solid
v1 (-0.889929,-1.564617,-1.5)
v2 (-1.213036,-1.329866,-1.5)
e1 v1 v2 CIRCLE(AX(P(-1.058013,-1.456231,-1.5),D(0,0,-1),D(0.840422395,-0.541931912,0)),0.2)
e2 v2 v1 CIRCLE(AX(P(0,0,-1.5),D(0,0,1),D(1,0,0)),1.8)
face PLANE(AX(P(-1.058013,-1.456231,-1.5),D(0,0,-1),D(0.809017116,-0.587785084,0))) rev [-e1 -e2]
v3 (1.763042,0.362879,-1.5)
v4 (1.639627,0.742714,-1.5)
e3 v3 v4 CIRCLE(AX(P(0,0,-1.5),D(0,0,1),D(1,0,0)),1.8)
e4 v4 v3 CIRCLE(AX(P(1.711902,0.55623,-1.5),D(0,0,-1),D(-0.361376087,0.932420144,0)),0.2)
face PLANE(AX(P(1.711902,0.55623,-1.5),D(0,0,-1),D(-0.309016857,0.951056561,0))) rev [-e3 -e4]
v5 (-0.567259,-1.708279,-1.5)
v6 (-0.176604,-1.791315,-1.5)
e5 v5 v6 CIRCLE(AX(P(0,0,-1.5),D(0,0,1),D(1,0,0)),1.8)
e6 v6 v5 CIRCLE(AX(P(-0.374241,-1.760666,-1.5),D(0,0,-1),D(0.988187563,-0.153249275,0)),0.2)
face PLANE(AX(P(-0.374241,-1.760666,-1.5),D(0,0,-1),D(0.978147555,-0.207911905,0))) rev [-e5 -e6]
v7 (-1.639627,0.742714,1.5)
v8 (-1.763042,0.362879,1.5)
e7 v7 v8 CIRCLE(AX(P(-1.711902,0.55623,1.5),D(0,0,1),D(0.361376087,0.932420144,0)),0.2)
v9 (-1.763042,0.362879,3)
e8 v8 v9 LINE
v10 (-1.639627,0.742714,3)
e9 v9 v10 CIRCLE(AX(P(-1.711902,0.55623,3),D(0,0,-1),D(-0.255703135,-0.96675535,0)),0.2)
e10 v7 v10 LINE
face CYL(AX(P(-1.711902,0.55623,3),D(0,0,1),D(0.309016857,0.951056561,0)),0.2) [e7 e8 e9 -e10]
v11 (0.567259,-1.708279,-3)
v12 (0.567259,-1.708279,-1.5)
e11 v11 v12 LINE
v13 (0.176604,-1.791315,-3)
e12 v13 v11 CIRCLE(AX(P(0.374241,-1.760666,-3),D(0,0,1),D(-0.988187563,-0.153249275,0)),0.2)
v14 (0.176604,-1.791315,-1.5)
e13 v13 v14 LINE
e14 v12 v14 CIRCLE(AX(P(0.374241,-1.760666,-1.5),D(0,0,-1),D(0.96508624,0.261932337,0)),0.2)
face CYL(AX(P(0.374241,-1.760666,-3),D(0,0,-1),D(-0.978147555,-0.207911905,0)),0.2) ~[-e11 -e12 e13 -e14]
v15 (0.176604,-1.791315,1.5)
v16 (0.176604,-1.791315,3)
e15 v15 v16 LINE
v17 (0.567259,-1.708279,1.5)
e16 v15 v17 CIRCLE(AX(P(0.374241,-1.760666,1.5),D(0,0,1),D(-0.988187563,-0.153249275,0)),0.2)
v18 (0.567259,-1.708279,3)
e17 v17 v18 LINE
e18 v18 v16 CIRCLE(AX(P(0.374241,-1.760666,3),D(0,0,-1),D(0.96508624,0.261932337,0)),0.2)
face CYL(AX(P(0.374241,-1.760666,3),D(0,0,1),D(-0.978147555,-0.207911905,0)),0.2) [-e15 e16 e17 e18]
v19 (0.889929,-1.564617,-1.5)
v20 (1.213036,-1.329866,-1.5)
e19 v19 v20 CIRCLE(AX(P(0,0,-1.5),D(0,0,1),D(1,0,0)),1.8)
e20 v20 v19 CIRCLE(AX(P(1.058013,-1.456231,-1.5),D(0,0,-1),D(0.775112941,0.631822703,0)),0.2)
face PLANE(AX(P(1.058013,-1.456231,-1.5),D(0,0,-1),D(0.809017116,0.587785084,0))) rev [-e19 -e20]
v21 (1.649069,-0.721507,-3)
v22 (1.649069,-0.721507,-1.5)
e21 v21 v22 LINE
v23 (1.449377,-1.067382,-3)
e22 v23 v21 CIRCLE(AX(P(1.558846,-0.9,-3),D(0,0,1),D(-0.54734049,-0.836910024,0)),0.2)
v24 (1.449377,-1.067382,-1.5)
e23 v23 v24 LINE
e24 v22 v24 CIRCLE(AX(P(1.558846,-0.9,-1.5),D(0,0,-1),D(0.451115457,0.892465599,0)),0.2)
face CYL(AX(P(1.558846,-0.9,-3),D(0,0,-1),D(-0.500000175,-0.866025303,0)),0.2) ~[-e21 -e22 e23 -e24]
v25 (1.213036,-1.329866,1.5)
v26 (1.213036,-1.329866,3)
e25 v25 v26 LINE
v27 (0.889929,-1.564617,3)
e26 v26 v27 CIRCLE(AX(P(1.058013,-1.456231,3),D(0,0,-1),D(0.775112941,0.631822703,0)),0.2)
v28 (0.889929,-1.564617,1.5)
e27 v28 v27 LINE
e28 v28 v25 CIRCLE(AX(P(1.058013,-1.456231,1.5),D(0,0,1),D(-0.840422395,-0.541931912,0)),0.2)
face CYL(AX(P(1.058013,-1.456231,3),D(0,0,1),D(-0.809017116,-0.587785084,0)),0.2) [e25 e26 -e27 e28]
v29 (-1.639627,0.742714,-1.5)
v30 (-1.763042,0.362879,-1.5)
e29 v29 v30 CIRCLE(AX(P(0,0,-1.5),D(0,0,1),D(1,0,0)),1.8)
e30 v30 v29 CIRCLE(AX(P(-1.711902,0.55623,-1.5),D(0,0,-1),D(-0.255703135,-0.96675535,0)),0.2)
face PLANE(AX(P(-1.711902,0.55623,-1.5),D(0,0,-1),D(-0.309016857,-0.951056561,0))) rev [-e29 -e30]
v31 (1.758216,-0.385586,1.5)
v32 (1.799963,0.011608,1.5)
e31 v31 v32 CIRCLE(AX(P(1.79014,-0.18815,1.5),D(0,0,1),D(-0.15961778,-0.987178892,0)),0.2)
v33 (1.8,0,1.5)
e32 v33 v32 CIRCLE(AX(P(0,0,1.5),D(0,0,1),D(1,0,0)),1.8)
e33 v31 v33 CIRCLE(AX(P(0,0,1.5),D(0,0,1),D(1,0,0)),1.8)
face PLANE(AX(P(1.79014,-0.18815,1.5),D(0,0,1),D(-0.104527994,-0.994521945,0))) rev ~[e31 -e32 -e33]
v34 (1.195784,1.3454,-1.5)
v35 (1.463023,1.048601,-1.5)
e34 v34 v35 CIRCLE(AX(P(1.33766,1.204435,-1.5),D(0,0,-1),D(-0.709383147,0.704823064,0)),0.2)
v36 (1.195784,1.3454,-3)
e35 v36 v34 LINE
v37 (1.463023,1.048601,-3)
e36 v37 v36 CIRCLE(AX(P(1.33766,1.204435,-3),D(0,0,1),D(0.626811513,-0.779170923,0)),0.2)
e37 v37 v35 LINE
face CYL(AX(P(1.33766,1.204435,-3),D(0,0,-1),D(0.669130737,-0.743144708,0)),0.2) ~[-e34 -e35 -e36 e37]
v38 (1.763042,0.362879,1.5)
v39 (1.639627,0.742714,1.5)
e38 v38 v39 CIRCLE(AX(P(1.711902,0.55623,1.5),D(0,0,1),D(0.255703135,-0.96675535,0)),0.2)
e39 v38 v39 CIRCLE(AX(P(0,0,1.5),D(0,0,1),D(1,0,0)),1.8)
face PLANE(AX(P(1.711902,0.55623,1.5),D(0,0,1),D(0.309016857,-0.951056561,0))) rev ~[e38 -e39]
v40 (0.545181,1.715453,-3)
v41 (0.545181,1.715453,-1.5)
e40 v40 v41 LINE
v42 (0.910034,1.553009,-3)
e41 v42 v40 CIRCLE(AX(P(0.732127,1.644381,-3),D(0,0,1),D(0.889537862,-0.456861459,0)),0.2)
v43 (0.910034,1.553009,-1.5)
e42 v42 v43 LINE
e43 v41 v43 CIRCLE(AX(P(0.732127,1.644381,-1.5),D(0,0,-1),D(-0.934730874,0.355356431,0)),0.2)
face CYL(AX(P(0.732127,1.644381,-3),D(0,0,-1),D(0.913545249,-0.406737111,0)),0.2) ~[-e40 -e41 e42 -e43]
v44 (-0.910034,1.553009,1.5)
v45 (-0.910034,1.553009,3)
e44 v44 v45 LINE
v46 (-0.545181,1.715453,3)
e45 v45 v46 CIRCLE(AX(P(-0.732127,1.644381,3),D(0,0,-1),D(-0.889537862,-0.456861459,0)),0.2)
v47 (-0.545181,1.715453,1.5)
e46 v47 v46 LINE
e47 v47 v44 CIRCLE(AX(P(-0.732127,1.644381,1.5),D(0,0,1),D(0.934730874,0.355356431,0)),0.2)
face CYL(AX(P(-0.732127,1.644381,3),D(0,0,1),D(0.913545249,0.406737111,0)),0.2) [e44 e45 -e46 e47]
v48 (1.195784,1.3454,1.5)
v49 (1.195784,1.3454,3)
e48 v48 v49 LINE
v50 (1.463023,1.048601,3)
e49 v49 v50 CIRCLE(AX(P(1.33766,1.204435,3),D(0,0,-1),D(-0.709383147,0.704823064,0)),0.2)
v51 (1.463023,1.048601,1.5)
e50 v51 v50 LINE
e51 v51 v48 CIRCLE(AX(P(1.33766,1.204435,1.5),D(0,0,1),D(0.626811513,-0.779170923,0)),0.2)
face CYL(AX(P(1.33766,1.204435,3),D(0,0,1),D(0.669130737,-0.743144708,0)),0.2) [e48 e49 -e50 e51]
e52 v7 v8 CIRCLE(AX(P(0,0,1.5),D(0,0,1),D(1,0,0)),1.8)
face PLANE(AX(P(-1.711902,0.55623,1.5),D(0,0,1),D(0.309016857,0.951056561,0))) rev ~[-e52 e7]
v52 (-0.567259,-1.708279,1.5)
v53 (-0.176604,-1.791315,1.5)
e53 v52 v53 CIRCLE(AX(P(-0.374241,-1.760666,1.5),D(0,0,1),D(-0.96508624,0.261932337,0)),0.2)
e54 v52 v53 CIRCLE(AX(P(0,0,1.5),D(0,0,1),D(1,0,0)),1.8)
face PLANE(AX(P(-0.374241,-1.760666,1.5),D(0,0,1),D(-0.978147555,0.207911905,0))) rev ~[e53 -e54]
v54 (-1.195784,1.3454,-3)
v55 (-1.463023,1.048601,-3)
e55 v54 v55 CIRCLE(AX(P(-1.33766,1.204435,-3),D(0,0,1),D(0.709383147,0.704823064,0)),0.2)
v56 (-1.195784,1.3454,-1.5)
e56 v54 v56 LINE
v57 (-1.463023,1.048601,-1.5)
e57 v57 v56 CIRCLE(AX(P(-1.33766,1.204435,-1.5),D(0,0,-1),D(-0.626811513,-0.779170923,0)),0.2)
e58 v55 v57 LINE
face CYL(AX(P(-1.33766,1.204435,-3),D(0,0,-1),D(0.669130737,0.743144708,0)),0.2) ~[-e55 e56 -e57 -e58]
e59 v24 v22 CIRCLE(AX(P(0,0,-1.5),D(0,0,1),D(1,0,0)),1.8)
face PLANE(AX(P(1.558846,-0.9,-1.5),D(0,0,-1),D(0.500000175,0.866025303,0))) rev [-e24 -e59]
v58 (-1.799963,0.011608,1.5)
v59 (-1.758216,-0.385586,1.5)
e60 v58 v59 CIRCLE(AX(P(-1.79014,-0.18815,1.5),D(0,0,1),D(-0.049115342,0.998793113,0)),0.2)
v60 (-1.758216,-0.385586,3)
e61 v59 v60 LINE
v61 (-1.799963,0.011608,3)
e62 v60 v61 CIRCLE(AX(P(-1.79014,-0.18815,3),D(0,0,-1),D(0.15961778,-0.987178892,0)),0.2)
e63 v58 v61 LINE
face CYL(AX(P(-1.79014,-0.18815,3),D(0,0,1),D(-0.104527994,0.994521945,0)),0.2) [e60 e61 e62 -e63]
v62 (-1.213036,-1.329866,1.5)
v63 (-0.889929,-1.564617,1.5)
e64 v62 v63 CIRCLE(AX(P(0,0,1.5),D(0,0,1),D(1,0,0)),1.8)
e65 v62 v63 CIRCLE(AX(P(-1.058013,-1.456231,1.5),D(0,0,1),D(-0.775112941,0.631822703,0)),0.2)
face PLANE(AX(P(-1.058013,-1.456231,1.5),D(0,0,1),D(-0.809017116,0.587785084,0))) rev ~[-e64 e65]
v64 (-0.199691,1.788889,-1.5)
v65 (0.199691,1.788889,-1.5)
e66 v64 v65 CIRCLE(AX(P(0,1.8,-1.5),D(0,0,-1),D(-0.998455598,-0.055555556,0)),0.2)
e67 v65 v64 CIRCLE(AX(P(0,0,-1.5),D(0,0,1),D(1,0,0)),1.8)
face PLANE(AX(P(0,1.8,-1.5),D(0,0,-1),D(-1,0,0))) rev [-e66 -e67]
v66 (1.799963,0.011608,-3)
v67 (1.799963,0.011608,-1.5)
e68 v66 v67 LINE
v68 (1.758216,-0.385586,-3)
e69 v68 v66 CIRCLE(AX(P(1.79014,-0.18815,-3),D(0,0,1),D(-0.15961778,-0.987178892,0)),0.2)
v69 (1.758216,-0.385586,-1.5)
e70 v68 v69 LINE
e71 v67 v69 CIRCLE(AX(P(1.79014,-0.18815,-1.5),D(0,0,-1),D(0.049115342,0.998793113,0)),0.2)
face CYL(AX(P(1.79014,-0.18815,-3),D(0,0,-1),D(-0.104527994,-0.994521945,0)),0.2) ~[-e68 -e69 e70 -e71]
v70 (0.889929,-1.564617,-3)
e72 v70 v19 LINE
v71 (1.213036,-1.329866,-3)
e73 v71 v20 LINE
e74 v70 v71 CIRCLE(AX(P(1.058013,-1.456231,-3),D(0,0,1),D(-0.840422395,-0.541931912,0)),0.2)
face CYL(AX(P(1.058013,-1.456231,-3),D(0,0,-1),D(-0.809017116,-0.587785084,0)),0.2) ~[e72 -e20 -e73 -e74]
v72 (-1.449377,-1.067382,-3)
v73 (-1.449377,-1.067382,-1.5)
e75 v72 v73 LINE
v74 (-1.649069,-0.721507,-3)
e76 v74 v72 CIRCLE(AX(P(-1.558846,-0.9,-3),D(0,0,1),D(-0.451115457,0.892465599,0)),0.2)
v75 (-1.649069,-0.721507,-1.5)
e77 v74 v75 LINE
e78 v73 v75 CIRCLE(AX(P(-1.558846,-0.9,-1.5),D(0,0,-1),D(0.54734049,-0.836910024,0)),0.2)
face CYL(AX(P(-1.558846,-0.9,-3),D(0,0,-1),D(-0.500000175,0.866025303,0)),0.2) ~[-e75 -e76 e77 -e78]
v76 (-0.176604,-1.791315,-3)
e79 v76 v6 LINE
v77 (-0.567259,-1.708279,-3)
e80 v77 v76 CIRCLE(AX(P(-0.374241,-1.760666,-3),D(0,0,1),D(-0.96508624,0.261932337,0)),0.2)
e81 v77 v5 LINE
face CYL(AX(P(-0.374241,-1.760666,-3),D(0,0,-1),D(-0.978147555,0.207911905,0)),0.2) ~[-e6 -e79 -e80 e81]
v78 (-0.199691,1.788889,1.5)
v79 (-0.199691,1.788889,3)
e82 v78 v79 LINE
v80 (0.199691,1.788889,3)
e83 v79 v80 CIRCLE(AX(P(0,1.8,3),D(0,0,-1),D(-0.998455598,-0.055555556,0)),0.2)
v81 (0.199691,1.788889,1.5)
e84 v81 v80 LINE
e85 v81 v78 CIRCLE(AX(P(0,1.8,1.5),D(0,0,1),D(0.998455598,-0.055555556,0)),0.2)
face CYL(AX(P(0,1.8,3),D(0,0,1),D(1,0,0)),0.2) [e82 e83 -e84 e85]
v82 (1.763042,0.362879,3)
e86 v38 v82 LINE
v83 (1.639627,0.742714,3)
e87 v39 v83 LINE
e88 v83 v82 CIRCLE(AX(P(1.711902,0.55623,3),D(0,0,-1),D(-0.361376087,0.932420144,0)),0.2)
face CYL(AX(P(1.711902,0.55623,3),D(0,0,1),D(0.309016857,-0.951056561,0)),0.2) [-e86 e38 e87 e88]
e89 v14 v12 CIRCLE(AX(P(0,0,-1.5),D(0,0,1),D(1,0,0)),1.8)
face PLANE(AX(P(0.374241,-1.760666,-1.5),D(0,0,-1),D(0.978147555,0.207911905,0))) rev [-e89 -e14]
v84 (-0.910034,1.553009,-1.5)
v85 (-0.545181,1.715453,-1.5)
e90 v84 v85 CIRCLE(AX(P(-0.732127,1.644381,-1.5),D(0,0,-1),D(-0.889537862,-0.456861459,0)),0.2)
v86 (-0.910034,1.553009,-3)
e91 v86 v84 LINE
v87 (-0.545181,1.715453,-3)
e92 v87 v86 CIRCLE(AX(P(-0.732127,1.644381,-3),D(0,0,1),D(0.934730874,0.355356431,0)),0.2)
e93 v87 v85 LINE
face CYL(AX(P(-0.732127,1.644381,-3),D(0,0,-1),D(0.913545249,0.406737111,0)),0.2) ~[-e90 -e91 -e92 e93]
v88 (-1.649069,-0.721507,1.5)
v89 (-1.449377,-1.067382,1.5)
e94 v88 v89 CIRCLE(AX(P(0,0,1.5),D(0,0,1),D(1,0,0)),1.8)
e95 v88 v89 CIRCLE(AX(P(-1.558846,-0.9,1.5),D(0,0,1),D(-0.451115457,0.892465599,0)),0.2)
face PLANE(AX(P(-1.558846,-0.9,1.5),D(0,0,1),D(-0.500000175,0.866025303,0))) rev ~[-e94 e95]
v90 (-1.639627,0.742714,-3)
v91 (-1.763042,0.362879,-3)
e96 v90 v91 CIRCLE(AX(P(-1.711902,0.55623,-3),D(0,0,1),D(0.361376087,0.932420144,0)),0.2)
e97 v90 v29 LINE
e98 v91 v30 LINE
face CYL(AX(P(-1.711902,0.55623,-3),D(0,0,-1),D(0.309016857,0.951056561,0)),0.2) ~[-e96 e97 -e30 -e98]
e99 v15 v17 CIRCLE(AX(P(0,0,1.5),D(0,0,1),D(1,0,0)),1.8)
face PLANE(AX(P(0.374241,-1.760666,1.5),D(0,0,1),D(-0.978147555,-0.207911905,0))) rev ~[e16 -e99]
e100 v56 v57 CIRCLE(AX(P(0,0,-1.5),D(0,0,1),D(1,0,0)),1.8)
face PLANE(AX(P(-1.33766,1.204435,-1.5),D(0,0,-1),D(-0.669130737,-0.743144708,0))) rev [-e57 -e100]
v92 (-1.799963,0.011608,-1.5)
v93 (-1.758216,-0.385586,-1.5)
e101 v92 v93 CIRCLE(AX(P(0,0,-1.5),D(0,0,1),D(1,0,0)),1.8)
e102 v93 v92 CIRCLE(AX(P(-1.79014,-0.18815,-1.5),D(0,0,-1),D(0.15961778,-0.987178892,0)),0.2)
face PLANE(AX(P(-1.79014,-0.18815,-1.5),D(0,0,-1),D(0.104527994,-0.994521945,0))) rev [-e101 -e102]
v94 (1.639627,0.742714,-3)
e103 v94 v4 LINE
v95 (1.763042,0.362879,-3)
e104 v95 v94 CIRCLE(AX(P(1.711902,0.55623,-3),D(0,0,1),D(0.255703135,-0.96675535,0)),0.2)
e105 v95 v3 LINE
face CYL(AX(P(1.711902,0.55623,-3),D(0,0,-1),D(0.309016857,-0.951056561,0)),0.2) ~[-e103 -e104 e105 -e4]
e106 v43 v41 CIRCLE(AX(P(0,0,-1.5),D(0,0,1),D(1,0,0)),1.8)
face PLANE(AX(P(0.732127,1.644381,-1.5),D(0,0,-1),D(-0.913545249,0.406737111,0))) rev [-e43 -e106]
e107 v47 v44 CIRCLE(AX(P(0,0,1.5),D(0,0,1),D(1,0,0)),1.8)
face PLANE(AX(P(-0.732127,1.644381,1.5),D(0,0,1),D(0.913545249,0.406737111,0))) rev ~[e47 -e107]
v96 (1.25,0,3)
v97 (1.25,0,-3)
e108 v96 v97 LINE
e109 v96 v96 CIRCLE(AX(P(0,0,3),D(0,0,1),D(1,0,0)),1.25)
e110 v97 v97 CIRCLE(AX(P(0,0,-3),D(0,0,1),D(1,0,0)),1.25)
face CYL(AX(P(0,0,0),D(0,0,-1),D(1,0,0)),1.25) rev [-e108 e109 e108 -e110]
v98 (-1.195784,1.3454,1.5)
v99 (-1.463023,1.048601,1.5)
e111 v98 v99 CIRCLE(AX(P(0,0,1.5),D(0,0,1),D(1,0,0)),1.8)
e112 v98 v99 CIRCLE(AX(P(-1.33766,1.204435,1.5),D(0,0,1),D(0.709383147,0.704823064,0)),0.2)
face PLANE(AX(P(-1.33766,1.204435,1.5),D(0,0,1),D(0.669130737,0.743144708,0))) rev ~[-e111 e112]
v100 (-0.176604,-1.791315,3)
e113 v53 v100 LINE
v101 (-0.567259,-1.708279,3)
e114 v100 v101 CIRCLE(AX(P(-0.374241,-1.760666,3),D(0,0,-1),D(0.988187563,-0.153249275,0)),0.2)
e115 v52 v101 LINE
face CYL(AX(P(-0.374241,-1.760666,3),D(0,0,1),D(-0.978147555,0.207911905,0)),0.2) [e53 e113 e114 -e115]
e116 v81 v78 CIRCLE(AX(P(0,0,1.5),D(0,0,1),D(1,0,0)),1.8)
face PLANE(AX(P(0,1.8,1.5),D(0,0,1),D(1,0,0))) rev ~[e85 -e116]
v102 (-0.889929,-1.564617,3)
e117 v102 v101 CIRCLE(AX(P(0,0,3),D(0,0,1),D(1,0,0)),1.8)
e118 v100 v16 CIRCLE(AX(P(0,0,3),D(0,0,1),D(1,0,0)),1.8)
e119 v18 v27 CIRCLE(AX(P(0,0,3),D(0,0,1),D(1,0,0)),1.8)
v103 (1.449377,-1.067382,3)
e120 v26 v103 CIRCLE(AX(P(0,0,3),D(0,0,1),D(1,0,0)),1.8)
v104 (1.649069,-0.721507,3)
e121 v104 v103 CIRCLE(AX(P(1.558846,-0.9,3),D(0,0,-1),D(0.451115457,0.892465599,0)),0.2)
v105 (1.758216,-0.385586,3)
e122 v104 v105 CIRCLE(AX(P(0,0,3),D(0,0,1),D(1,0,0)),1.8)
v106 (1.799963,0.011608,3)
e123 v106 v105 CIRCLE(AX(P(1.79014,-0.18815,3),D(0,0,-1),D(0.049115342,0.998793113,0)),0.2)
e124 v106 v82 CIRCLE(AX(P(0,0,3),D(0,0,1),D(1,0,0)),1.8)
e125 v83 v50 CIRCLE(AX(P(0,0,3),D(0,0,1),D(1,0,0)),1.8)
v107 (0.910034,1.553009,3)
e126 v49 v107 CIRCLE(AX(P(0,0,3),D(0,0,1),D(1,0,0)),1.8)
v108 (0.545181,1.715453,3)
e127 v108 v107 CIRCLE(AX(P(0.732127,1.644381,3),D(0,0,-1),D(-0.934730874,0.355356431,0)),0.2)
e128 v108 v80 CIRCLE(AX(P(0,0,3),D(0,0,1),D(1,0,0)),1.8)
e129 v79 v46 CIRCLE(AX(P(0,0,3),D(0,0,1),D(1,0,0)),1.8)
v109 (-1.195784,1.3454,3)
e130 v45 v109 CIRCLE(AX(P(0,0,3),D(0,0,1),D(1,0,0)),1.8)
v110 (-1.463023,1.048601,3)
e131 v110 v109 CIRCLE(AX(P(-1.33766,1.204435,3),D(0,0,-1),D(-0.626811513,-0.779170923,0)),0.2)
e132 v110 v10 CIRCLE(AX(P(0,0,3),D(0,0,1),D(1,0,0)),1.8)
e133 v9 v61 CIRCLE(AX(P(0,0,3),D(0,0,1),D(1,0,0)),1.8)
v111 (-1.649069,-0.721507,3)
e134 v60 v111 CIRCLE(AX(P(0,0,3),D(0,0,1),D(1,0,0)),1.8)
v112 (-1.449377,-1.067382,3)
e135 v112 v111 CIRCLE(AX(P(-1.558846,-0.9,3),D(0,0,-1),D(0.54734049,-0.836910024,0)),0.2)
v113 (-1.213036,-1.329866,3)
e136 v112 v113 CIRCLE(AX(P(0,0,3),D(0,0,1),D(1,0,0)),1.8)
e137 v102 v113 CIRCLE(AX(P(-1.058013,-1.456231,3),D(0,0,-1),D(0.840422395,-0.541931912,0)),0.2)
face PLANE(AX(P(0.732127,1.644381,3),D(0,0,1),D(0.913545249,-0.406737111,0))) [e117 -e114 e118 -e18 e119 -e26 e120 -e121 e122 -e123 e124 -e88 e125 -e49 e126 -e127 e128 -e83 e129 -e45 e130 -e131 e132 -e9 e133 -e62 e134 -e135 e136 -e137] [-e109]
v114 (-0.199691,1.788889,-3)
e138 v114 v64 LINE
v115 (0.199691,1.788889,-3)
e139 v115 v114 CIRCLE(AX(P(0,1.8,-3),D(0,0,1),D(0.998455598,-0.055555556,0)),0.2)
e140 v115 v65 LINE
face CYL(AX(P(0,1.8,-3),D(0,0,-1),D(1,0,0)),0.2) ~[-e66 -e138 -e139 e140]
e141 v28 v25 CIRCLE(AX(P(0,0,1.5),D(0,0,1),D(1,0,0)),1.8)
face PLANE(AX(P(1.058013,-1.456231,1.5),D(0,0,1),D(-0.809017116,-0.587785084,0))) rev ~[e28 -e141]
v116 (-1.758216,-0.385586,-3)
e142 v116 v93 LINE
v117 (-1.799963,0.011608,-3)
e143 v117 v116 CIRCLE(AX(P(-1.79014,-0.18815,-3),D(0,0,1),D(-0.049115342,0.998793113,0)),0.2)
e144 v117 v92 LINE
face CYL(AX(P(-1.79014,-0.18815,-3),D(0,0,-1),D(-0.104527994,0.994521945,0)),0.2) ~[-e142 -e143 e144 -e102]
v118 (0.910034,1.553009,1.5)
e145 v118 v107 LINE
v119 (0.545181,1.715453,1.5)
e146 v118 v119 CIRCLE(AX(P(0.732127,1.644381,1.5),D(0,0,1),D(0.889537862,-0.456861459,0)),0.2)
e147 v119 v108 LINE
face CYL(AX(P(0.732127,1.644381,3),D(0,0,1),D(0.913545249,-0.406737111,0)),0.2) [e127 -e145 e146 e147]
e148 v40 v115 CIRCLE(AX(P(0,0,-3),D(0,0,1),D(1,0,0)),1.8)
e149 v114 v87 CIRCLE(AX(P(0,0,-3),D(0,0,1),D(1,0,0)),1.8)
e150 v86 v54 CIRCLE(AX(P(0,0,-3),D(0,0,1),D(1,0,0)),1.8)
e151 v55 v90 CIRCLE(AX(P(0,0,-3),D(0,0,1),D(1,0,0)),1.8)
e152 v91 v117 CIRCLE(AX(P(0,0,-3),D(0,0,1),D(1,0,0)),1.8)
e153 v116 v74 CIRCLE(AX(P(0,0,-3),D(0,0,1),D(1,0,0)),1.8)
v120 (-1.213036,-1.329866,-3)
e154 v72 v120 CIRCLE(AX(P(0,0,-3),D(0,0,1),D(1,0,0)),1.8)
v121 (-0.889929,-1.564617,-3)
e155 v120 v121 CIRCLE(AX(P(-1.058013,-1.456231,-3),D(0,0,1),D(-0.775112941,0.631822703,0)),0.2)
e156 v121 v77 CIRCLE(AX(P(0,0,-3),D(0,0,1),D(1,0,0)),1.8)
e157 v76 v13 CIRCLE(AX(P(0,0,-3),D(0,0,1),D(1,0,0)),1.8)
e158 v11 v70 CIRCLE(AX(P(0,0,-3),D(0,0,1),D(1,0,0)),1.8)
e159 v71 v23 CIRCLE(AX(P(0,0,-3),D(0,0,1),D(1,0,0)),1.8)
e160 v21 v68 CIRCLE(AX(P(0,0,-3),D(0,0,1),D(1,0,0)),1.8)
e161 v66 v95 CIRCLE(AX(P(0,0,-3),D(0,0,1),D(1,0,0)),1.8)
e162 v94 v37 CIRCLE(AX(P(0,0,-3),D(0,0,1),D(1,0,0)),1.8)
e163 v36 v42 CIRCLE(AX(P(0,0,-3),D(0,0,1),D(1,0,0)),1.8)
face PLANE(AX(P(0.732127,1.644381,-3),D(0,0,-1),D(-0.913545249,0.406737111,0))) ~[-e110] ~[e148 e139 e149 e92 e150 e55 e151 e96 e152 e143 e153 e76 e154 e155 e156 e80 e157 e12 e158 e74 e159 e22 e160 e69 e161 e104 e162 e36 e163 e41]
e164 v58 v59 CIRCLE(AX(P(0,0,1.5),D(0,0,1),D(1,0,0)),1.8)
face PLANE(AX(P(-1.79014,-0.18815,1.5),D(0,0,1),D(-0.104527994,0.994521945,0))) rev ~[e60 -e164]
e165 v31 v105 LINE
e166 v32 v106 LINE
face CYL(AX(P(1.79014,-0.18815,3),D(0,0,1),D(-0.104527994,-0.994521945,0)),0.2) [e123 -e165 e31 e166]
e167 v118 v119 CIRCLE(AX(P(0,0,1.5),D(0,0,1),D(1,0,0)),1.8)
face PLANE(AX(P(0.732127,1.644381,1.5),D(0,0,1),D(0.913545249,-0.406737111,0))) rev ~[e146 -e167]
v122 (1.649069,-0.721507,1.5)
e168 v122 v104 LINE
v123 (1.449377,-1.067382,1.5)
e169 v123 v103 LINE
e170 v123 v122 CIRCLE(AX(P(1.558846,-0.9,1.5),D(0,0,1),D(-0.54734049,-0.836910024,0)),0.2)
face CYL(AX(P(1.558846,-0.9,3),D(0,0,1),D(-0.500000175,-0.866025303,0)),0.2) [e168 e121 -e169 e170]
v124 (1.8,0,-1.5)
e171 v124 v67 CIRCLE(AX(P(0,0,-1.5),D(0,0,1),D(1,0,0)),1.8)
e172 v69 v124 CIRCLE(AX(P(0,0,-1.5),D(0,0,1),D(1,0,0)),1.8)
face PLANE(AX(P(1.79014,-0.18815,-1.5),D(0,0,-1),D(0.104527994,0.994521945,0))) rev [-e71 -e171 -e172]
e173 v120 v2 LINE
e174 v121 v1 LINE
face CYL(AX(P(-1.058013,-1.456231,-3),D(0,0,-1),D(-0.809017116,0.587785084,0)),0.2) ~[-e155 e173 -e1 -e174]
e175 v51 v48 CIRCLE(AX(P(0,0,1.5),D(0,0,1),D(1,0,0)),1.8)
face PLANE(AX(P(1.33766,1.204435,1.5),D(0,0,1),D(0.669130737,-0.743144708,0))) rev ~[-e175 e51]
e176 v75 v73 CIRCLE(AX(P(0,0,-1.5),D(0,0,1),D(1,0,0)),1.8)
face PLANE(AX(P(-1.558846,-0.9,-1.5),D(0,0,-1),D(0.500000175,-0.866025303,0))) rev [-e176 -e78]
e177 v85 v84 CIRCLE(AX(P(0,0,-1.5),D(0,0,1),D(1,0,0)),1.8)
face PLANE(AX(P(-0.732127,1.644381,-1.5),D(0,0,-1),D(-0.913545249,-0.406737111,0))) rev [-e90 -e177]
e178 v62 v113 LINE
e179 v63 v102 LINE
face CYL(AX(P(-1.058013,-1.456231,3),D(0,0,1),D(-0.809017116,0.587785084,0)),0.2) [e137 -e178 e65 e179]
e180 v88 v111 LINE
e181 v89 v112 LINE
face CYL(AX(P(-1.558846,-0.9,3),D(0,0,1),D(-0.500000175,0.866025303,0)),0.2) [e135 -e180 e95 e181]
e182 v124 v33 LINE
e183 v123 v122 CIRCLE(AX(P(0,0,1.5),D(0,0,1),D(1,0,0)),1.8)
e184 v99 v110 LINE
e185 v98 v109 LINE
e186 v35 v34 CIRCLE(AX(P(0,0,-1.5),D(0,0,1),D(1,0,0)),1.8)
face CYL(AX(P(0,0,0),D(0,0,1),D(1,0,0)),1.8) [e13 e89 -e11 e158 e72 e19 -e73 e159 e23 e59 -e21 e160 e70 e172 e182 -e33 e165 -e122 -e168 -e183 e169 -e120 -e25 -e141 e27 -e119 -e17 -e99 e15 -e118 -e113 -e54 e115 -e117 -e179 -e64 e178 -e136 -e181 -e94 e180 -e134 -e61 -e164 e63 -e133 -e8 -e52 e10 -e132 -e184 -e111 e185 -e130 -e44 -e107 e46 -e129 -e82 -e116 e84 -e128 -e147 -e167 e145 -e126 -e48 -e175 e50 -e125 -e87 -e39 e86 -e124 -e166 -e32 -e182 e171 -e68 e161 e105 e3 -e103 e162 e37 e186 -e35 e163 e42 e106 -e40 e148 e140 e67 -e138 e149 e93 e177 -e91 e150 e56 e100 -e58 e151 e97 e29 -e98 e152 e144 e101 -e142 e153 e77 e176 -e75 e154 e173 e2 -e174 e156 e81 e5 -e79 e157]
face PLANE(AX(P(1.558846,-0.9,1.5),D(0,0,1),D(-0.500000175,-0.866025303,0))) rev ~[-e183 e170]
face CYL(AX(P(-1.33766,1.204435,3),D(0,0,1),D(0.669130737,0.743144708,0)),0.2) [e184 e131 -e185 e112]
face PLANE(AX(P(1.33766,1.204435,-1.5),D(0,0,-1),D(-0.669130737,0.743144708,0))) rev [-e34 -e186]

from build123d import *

# Parameters (mm, degrees)
SKETCH_R                     = 1.8
SKETCH_R_2                   = 1.25
PAD_DEPTH                    = 3
PAD_DEPTH_BACK               = 3
SKETCH001_R                  = 0.2
PAD001_DEPTH                 = 1.5
SKETCH001_POLARPATTERN_2_R   = 0.2
PAD001_POLARPATTERN_2_DEPTH  = 1.5
SKETCH001_POLARPATTERN_3_R   = 0.2
PAD001_POLARPATTERN_3_DEPTH  = 1.5
SKETCH001_POLARPATTERN_4_R   = 0.2
PAD001_POLARPATTERN_4_DEPTH  = 1.5
SKETCH001_POLARPATTERN_5_R   = 0.2
PAD001_POLARPATTERN_5_DEPTH  = 1.5
SKETCH001_POLARPATTERN_6_R   = 0.2
PAD001_POLARPATTERN_6_DEPTH  = 1.5
SKETCH001_POLARPATTERN_7_R   = 0.2
PAD001_POLARPATTERN_7_DEPTH  = 1.5
SKETCH001_POLARPATTERN_8_R   = 0.2
PAD001_POLARPATTERN_8_DEPTH  = 1.5
SKETCH001_POLARPATTERN_9_R   = 0.2
PAD001_POLARPATTERN_9_DEPTH  = 1.5
SKETCH001_POLARPATTERN_10_R  = 0.2
PAD001_POLARPATTERN_10_DEPTH = 1.5
SKETCH001_POLARPATTERN_11_R  = 0.2
PAD001_POLARPATTERN_11_DEPTH = 1.5
SKETCH001_POLARPATTERN_12_R  = 0.2
PAD001_POLARPATTERN_12_DEPTH = 1.5
SKETCH001_POLARPATTERN_13_R  = 0.2
PAD001_POLARPATTERN_13_DEPTH = 1.5
SKETCH001_POLARPATTERN_14_R  = 0.2
PAD001_POLARPATTERN_14_DEPTH = 1.5
SKETCH001_POLARPATTERN_15_R  = 0.2
PAD001_POLARPATTERN_15_DEPTH = 1.5


with BuildPart() as part:
    # Sketch → Pad (new body, two sides)
    with BuildSketch(Plane.XY) as pad_sk:
        Circle(SKETCH_R)
        Circle(SKETCH_R_2, mode=Mode.SUBTRACT)
    extrude(amount=PAD_DEPTH)
    extrude(pad_sk.sketch, amount=-PAD_DEPTH_BACK)

    # Sketch001 (on Face4 of Pad) → Pad001 (join)
    with BuildSketch(Plane.XY.offset(3)):
        with Locations((0, 1.8)):
            Circle(SKETCH001_R)
    pad001 = extrude(amount=-PAD001_DEPTH)

    # Sketch001 PolarPattern 2 → Pad001 PolarPattern 2 (add)
    with BuildSketch(Plane(origin=(0, 0, 3), x_dir=(0.913545, 0.406737, 0), z_dir=(0, 0, 1))):
        with Locations((0, 1.8)):
            Circle(SKETCH001_POLARPATTERN_2_R)
    pad001_polarpattern_2 = extrude(amount=-PAD001_POLARPATTERN_2_DEPTH)

    # Sketch001 PolarPattern 3 → Pad001 PolarPattern 3 (add)
    with BuildSketch(Plane(origin=(0, 0, 3), x_dir=(0.669131, 0.743145, 0), z_dir=(0, 0, 1))):
        with Locations((0, 1.8)):
            Circle(SKETCH001_POLARPATTERN_3_R)
    pad001_polarpattern_3 = extrude(amount=-PAD001_POLARPATTERN_3_DEPTH)

    # Sketch001 PolarPattern 4 → Pad001 PolarPattern 4 (add)
    with BuildSketch(Plane(origin=(0, 0, 3), x_dir=(0.309017, 0.951057, 0), z_dir=(0, 0, 1))):
        with Locations((0, 1.8)):
            Circle(SKETCH001_POLARPATTERN_4_R)
    pad001_polarpattern_4 = extrude(amount=-PAD001_POLARPATTERN_4_DEPTH)

    # Sketch001 PolarPattern 5 → Pad001 PolarPattern 5 (add)
    with BuildSketch(Plane(origin=(0, 0, 3), x_dir=(-0.104528, 0.994522, 0), z_dir=(0, 0, 1))):
        with Locations((0, 1.8)):
            Circle(SKETCH001_POLARPATTERN_5_R)
    pad001_polarpattern_5 = extrude(amount=-PAD001_POLARPATTERN_5_DEPTH)

    # Sketch001 PolarPattern 6 → Pad001 PolarPattern 6 (add)
    with BuildSketch(Plane(origin=(0, 0, 3), x_dir=(-0.5, 0.866025, 0), z_dir=(0, 0, 1))):
        with Locations((0, 1.8)):
            Circle(SKETCH001_POLARPATTERN_6_R)
    pad001_polarpattern_6 = extrude(amount=-PAD001_POLARPATTERN_6_DEPTH)

    # Sketch001 PolarPattern 7 → Pad001 PolarPattern 7 (add)
    with BuildSketch(Plane(origin=(0, 0, 3), x_dir=(-0.809017, 0.587785, 0), z_dir=(0, 0, 1))):
        with Locations((0, 1.8)):
            Circle(SKETCH001_POLARPATTERN_7_R)
    pad001_polarpattern_7 = extrude(amount=-PAD001_POLARPATTERN_7_DEPTH)

    # Sketch001 PolarPattern 8 → Pad001 PolarPattern 8 (add)
    with BuildSketch(Plane(origin=(0, 0, 3), x_dir=(-0.978148, 0.207912, 0), z_dir=(0, 0, 1))):
        with Locations((0, 1.8)):
            Circle(SKETCH001_POLARPATTERN_8_R)
    pad001_polarpattern_8 = extrude(amount=-PAD001_POLARPATTERN_8_DEPTH)

    # Sketch001 PolarPattern 9 → Pad001 PolarPattern 9 (add)
    with BuildSketch(Plane(origin=(0, 0, 3), x_dir=(-0.978148, -0.207912, 0), z_dir=(0, 0, 1))):
        with Locations((0, 1.8)):
            Circle(SKETCH001_POLARPATTERN_9_R)
    pad001_polarpattern_9 = extrude(amount=-PAD001_POLARPATTERN_9_DEPTH)

    # Sketch001 PolarPattern 10 → Pad001 PolarPattern 10 (add)
    with BuildSketch(Plane(origin=(0, 0, 3), x_dir=(-0.809017, -0.587785, 0), z_dir=(0, 0, 1))):
        with Locations((0, 1.8)):
            Circle(SKETCH001_POLARPATTERN_10_R)
    pad001_polarpattern_10 = extrude(amount=-PAD001_POLARPATTERN_10_DEPTH)

    # Sketch001 PolarPattern 11 → Pad001 PolarPattern 11 (add)
    with BuildSketch(Plane(origin=(0, 0, 3), x_dir=(-0.5, -0.866025, 0), z_dir=(0, 0, 1))):
        with Locations((0, 1.8)):
            Circle(SKETCH001_POLARPATTERN_11_R)
    pad001_polarpattern_11 = extrude(amount=-PAD001_POLARPATTERN_11_DEPTH)

    # Sketch001 PolarPattern 12 → Pad001 PolarPattern 12 (add)
    with BuildSketch(Plane(origin=(0, 0, 3), x_dir=(-0.104528, -0.994522, 0), z_dir=(0, 0, 1))):
        with Locations((0, 1.8)):
            Circle(SKETCH001_POLARPATTERN_12_R)
    pad001_polarpattern_12 = extrude(amount=-PAD001_POLARPATTERN_12_DEPTH)

    # Sketch001 PolarPattern 13 → Pad001 PolarPattern 13 (add)
    with BuildSketch(Plane(origin=(0, 0, 3), x_dir=(0.309017, -0.951057, 0), z_dir=(0, 0, 1))):
        with Locations((0, 1.8)):
            Circle(SKETCH001_POLARPATTERN_13_R)
    pad001_polarpattern_13 = extrude(amount=-PAD001_POLARPATTERN_13_DEPTH)

    # Sketch001 PolarPattern 14 → Pad001 PolarPattern 14 (add)
    with BuildSketch(Plane(origin=(0, 0, 3), x_dir=(0.669131, -0.743145, 0), z_dir=(0, 0, 1))):
        with Locations((0, 1.8)):
            Circle(SKETCH001_POLARPATTERN_14_R)
    pad001_polarpattern_14 = extrude(amount=-PAD001_POLARPATTERN_14_DEPTH)

    # Sketch001 PolarPattern 15 → Pad001 PolarPattern 15 (add)
    with BuildSketch(Plane(origin=(0, 0, 3), x_dir=(0.913545, -0.406737, 0), z_dir=(0, 0, 1))):
        with Locations((0, 1.8)):
            Circle(SKETCH001_POLARPATTERN_15_R)
    pad001_polarpattern_15 = extrude(amount=-PAD001_POLARPATTERN_15_DEPTH)

    # Mirrored: Pad001, Pad001 PolarPattern 2, Pad001 PolarPattern 3, Pad001 PolarPattern 4, Pad001 PolarPattern 5, Pad001 PolarPattern 6, Pad001 PolarPattern 7, Pad001 PolarPattern 8, Pad001 PolarPattern 9, Pad001 PolarPattern 10, Pad001 PolarPattern 11, Pad001 PolarPattern 12, Pad001 PolarPattern 13, Pad001 PolarPattern 14, Pad001 PolarPattern 15 across XY
    add(pad001.mirror(Plane.XY))
    add(pad001_polarpattern_2.mirror(Plane.XY))
    add(pad001_polarpattern_3.mirror(Plane.XY))
    add(pad001_polarpattern_4.mirror(Plane.XY))
    add(pad001_polarpattern_5.mirror(Plane.XY))
    add(pad001_polarpattern_6.mirror(Plane.XY))
    add(pad001_polarpattern_7.mirror(Plane.XY))
    add(pad001_polarpattern_8.mirror(Plane.XY))
    add(pad001_polarpattern_9.mirror(Plane.XY))
    add(pad001_polarpattern_10.mirror(Plane.XY))
    add(pad001_polarpattern_11.mirror(Plane.XY))
    add(pad001_polarpattern_12.mirror(Plane.XY))
    add(pad001_polarpattern_13.mirror(Plane.XY))
    add(pad001_polarpattern_14.mirror(Plane.XY))
    add(pad001_polarpattern_15.mirror(Plane.XY))


solid = part.part
